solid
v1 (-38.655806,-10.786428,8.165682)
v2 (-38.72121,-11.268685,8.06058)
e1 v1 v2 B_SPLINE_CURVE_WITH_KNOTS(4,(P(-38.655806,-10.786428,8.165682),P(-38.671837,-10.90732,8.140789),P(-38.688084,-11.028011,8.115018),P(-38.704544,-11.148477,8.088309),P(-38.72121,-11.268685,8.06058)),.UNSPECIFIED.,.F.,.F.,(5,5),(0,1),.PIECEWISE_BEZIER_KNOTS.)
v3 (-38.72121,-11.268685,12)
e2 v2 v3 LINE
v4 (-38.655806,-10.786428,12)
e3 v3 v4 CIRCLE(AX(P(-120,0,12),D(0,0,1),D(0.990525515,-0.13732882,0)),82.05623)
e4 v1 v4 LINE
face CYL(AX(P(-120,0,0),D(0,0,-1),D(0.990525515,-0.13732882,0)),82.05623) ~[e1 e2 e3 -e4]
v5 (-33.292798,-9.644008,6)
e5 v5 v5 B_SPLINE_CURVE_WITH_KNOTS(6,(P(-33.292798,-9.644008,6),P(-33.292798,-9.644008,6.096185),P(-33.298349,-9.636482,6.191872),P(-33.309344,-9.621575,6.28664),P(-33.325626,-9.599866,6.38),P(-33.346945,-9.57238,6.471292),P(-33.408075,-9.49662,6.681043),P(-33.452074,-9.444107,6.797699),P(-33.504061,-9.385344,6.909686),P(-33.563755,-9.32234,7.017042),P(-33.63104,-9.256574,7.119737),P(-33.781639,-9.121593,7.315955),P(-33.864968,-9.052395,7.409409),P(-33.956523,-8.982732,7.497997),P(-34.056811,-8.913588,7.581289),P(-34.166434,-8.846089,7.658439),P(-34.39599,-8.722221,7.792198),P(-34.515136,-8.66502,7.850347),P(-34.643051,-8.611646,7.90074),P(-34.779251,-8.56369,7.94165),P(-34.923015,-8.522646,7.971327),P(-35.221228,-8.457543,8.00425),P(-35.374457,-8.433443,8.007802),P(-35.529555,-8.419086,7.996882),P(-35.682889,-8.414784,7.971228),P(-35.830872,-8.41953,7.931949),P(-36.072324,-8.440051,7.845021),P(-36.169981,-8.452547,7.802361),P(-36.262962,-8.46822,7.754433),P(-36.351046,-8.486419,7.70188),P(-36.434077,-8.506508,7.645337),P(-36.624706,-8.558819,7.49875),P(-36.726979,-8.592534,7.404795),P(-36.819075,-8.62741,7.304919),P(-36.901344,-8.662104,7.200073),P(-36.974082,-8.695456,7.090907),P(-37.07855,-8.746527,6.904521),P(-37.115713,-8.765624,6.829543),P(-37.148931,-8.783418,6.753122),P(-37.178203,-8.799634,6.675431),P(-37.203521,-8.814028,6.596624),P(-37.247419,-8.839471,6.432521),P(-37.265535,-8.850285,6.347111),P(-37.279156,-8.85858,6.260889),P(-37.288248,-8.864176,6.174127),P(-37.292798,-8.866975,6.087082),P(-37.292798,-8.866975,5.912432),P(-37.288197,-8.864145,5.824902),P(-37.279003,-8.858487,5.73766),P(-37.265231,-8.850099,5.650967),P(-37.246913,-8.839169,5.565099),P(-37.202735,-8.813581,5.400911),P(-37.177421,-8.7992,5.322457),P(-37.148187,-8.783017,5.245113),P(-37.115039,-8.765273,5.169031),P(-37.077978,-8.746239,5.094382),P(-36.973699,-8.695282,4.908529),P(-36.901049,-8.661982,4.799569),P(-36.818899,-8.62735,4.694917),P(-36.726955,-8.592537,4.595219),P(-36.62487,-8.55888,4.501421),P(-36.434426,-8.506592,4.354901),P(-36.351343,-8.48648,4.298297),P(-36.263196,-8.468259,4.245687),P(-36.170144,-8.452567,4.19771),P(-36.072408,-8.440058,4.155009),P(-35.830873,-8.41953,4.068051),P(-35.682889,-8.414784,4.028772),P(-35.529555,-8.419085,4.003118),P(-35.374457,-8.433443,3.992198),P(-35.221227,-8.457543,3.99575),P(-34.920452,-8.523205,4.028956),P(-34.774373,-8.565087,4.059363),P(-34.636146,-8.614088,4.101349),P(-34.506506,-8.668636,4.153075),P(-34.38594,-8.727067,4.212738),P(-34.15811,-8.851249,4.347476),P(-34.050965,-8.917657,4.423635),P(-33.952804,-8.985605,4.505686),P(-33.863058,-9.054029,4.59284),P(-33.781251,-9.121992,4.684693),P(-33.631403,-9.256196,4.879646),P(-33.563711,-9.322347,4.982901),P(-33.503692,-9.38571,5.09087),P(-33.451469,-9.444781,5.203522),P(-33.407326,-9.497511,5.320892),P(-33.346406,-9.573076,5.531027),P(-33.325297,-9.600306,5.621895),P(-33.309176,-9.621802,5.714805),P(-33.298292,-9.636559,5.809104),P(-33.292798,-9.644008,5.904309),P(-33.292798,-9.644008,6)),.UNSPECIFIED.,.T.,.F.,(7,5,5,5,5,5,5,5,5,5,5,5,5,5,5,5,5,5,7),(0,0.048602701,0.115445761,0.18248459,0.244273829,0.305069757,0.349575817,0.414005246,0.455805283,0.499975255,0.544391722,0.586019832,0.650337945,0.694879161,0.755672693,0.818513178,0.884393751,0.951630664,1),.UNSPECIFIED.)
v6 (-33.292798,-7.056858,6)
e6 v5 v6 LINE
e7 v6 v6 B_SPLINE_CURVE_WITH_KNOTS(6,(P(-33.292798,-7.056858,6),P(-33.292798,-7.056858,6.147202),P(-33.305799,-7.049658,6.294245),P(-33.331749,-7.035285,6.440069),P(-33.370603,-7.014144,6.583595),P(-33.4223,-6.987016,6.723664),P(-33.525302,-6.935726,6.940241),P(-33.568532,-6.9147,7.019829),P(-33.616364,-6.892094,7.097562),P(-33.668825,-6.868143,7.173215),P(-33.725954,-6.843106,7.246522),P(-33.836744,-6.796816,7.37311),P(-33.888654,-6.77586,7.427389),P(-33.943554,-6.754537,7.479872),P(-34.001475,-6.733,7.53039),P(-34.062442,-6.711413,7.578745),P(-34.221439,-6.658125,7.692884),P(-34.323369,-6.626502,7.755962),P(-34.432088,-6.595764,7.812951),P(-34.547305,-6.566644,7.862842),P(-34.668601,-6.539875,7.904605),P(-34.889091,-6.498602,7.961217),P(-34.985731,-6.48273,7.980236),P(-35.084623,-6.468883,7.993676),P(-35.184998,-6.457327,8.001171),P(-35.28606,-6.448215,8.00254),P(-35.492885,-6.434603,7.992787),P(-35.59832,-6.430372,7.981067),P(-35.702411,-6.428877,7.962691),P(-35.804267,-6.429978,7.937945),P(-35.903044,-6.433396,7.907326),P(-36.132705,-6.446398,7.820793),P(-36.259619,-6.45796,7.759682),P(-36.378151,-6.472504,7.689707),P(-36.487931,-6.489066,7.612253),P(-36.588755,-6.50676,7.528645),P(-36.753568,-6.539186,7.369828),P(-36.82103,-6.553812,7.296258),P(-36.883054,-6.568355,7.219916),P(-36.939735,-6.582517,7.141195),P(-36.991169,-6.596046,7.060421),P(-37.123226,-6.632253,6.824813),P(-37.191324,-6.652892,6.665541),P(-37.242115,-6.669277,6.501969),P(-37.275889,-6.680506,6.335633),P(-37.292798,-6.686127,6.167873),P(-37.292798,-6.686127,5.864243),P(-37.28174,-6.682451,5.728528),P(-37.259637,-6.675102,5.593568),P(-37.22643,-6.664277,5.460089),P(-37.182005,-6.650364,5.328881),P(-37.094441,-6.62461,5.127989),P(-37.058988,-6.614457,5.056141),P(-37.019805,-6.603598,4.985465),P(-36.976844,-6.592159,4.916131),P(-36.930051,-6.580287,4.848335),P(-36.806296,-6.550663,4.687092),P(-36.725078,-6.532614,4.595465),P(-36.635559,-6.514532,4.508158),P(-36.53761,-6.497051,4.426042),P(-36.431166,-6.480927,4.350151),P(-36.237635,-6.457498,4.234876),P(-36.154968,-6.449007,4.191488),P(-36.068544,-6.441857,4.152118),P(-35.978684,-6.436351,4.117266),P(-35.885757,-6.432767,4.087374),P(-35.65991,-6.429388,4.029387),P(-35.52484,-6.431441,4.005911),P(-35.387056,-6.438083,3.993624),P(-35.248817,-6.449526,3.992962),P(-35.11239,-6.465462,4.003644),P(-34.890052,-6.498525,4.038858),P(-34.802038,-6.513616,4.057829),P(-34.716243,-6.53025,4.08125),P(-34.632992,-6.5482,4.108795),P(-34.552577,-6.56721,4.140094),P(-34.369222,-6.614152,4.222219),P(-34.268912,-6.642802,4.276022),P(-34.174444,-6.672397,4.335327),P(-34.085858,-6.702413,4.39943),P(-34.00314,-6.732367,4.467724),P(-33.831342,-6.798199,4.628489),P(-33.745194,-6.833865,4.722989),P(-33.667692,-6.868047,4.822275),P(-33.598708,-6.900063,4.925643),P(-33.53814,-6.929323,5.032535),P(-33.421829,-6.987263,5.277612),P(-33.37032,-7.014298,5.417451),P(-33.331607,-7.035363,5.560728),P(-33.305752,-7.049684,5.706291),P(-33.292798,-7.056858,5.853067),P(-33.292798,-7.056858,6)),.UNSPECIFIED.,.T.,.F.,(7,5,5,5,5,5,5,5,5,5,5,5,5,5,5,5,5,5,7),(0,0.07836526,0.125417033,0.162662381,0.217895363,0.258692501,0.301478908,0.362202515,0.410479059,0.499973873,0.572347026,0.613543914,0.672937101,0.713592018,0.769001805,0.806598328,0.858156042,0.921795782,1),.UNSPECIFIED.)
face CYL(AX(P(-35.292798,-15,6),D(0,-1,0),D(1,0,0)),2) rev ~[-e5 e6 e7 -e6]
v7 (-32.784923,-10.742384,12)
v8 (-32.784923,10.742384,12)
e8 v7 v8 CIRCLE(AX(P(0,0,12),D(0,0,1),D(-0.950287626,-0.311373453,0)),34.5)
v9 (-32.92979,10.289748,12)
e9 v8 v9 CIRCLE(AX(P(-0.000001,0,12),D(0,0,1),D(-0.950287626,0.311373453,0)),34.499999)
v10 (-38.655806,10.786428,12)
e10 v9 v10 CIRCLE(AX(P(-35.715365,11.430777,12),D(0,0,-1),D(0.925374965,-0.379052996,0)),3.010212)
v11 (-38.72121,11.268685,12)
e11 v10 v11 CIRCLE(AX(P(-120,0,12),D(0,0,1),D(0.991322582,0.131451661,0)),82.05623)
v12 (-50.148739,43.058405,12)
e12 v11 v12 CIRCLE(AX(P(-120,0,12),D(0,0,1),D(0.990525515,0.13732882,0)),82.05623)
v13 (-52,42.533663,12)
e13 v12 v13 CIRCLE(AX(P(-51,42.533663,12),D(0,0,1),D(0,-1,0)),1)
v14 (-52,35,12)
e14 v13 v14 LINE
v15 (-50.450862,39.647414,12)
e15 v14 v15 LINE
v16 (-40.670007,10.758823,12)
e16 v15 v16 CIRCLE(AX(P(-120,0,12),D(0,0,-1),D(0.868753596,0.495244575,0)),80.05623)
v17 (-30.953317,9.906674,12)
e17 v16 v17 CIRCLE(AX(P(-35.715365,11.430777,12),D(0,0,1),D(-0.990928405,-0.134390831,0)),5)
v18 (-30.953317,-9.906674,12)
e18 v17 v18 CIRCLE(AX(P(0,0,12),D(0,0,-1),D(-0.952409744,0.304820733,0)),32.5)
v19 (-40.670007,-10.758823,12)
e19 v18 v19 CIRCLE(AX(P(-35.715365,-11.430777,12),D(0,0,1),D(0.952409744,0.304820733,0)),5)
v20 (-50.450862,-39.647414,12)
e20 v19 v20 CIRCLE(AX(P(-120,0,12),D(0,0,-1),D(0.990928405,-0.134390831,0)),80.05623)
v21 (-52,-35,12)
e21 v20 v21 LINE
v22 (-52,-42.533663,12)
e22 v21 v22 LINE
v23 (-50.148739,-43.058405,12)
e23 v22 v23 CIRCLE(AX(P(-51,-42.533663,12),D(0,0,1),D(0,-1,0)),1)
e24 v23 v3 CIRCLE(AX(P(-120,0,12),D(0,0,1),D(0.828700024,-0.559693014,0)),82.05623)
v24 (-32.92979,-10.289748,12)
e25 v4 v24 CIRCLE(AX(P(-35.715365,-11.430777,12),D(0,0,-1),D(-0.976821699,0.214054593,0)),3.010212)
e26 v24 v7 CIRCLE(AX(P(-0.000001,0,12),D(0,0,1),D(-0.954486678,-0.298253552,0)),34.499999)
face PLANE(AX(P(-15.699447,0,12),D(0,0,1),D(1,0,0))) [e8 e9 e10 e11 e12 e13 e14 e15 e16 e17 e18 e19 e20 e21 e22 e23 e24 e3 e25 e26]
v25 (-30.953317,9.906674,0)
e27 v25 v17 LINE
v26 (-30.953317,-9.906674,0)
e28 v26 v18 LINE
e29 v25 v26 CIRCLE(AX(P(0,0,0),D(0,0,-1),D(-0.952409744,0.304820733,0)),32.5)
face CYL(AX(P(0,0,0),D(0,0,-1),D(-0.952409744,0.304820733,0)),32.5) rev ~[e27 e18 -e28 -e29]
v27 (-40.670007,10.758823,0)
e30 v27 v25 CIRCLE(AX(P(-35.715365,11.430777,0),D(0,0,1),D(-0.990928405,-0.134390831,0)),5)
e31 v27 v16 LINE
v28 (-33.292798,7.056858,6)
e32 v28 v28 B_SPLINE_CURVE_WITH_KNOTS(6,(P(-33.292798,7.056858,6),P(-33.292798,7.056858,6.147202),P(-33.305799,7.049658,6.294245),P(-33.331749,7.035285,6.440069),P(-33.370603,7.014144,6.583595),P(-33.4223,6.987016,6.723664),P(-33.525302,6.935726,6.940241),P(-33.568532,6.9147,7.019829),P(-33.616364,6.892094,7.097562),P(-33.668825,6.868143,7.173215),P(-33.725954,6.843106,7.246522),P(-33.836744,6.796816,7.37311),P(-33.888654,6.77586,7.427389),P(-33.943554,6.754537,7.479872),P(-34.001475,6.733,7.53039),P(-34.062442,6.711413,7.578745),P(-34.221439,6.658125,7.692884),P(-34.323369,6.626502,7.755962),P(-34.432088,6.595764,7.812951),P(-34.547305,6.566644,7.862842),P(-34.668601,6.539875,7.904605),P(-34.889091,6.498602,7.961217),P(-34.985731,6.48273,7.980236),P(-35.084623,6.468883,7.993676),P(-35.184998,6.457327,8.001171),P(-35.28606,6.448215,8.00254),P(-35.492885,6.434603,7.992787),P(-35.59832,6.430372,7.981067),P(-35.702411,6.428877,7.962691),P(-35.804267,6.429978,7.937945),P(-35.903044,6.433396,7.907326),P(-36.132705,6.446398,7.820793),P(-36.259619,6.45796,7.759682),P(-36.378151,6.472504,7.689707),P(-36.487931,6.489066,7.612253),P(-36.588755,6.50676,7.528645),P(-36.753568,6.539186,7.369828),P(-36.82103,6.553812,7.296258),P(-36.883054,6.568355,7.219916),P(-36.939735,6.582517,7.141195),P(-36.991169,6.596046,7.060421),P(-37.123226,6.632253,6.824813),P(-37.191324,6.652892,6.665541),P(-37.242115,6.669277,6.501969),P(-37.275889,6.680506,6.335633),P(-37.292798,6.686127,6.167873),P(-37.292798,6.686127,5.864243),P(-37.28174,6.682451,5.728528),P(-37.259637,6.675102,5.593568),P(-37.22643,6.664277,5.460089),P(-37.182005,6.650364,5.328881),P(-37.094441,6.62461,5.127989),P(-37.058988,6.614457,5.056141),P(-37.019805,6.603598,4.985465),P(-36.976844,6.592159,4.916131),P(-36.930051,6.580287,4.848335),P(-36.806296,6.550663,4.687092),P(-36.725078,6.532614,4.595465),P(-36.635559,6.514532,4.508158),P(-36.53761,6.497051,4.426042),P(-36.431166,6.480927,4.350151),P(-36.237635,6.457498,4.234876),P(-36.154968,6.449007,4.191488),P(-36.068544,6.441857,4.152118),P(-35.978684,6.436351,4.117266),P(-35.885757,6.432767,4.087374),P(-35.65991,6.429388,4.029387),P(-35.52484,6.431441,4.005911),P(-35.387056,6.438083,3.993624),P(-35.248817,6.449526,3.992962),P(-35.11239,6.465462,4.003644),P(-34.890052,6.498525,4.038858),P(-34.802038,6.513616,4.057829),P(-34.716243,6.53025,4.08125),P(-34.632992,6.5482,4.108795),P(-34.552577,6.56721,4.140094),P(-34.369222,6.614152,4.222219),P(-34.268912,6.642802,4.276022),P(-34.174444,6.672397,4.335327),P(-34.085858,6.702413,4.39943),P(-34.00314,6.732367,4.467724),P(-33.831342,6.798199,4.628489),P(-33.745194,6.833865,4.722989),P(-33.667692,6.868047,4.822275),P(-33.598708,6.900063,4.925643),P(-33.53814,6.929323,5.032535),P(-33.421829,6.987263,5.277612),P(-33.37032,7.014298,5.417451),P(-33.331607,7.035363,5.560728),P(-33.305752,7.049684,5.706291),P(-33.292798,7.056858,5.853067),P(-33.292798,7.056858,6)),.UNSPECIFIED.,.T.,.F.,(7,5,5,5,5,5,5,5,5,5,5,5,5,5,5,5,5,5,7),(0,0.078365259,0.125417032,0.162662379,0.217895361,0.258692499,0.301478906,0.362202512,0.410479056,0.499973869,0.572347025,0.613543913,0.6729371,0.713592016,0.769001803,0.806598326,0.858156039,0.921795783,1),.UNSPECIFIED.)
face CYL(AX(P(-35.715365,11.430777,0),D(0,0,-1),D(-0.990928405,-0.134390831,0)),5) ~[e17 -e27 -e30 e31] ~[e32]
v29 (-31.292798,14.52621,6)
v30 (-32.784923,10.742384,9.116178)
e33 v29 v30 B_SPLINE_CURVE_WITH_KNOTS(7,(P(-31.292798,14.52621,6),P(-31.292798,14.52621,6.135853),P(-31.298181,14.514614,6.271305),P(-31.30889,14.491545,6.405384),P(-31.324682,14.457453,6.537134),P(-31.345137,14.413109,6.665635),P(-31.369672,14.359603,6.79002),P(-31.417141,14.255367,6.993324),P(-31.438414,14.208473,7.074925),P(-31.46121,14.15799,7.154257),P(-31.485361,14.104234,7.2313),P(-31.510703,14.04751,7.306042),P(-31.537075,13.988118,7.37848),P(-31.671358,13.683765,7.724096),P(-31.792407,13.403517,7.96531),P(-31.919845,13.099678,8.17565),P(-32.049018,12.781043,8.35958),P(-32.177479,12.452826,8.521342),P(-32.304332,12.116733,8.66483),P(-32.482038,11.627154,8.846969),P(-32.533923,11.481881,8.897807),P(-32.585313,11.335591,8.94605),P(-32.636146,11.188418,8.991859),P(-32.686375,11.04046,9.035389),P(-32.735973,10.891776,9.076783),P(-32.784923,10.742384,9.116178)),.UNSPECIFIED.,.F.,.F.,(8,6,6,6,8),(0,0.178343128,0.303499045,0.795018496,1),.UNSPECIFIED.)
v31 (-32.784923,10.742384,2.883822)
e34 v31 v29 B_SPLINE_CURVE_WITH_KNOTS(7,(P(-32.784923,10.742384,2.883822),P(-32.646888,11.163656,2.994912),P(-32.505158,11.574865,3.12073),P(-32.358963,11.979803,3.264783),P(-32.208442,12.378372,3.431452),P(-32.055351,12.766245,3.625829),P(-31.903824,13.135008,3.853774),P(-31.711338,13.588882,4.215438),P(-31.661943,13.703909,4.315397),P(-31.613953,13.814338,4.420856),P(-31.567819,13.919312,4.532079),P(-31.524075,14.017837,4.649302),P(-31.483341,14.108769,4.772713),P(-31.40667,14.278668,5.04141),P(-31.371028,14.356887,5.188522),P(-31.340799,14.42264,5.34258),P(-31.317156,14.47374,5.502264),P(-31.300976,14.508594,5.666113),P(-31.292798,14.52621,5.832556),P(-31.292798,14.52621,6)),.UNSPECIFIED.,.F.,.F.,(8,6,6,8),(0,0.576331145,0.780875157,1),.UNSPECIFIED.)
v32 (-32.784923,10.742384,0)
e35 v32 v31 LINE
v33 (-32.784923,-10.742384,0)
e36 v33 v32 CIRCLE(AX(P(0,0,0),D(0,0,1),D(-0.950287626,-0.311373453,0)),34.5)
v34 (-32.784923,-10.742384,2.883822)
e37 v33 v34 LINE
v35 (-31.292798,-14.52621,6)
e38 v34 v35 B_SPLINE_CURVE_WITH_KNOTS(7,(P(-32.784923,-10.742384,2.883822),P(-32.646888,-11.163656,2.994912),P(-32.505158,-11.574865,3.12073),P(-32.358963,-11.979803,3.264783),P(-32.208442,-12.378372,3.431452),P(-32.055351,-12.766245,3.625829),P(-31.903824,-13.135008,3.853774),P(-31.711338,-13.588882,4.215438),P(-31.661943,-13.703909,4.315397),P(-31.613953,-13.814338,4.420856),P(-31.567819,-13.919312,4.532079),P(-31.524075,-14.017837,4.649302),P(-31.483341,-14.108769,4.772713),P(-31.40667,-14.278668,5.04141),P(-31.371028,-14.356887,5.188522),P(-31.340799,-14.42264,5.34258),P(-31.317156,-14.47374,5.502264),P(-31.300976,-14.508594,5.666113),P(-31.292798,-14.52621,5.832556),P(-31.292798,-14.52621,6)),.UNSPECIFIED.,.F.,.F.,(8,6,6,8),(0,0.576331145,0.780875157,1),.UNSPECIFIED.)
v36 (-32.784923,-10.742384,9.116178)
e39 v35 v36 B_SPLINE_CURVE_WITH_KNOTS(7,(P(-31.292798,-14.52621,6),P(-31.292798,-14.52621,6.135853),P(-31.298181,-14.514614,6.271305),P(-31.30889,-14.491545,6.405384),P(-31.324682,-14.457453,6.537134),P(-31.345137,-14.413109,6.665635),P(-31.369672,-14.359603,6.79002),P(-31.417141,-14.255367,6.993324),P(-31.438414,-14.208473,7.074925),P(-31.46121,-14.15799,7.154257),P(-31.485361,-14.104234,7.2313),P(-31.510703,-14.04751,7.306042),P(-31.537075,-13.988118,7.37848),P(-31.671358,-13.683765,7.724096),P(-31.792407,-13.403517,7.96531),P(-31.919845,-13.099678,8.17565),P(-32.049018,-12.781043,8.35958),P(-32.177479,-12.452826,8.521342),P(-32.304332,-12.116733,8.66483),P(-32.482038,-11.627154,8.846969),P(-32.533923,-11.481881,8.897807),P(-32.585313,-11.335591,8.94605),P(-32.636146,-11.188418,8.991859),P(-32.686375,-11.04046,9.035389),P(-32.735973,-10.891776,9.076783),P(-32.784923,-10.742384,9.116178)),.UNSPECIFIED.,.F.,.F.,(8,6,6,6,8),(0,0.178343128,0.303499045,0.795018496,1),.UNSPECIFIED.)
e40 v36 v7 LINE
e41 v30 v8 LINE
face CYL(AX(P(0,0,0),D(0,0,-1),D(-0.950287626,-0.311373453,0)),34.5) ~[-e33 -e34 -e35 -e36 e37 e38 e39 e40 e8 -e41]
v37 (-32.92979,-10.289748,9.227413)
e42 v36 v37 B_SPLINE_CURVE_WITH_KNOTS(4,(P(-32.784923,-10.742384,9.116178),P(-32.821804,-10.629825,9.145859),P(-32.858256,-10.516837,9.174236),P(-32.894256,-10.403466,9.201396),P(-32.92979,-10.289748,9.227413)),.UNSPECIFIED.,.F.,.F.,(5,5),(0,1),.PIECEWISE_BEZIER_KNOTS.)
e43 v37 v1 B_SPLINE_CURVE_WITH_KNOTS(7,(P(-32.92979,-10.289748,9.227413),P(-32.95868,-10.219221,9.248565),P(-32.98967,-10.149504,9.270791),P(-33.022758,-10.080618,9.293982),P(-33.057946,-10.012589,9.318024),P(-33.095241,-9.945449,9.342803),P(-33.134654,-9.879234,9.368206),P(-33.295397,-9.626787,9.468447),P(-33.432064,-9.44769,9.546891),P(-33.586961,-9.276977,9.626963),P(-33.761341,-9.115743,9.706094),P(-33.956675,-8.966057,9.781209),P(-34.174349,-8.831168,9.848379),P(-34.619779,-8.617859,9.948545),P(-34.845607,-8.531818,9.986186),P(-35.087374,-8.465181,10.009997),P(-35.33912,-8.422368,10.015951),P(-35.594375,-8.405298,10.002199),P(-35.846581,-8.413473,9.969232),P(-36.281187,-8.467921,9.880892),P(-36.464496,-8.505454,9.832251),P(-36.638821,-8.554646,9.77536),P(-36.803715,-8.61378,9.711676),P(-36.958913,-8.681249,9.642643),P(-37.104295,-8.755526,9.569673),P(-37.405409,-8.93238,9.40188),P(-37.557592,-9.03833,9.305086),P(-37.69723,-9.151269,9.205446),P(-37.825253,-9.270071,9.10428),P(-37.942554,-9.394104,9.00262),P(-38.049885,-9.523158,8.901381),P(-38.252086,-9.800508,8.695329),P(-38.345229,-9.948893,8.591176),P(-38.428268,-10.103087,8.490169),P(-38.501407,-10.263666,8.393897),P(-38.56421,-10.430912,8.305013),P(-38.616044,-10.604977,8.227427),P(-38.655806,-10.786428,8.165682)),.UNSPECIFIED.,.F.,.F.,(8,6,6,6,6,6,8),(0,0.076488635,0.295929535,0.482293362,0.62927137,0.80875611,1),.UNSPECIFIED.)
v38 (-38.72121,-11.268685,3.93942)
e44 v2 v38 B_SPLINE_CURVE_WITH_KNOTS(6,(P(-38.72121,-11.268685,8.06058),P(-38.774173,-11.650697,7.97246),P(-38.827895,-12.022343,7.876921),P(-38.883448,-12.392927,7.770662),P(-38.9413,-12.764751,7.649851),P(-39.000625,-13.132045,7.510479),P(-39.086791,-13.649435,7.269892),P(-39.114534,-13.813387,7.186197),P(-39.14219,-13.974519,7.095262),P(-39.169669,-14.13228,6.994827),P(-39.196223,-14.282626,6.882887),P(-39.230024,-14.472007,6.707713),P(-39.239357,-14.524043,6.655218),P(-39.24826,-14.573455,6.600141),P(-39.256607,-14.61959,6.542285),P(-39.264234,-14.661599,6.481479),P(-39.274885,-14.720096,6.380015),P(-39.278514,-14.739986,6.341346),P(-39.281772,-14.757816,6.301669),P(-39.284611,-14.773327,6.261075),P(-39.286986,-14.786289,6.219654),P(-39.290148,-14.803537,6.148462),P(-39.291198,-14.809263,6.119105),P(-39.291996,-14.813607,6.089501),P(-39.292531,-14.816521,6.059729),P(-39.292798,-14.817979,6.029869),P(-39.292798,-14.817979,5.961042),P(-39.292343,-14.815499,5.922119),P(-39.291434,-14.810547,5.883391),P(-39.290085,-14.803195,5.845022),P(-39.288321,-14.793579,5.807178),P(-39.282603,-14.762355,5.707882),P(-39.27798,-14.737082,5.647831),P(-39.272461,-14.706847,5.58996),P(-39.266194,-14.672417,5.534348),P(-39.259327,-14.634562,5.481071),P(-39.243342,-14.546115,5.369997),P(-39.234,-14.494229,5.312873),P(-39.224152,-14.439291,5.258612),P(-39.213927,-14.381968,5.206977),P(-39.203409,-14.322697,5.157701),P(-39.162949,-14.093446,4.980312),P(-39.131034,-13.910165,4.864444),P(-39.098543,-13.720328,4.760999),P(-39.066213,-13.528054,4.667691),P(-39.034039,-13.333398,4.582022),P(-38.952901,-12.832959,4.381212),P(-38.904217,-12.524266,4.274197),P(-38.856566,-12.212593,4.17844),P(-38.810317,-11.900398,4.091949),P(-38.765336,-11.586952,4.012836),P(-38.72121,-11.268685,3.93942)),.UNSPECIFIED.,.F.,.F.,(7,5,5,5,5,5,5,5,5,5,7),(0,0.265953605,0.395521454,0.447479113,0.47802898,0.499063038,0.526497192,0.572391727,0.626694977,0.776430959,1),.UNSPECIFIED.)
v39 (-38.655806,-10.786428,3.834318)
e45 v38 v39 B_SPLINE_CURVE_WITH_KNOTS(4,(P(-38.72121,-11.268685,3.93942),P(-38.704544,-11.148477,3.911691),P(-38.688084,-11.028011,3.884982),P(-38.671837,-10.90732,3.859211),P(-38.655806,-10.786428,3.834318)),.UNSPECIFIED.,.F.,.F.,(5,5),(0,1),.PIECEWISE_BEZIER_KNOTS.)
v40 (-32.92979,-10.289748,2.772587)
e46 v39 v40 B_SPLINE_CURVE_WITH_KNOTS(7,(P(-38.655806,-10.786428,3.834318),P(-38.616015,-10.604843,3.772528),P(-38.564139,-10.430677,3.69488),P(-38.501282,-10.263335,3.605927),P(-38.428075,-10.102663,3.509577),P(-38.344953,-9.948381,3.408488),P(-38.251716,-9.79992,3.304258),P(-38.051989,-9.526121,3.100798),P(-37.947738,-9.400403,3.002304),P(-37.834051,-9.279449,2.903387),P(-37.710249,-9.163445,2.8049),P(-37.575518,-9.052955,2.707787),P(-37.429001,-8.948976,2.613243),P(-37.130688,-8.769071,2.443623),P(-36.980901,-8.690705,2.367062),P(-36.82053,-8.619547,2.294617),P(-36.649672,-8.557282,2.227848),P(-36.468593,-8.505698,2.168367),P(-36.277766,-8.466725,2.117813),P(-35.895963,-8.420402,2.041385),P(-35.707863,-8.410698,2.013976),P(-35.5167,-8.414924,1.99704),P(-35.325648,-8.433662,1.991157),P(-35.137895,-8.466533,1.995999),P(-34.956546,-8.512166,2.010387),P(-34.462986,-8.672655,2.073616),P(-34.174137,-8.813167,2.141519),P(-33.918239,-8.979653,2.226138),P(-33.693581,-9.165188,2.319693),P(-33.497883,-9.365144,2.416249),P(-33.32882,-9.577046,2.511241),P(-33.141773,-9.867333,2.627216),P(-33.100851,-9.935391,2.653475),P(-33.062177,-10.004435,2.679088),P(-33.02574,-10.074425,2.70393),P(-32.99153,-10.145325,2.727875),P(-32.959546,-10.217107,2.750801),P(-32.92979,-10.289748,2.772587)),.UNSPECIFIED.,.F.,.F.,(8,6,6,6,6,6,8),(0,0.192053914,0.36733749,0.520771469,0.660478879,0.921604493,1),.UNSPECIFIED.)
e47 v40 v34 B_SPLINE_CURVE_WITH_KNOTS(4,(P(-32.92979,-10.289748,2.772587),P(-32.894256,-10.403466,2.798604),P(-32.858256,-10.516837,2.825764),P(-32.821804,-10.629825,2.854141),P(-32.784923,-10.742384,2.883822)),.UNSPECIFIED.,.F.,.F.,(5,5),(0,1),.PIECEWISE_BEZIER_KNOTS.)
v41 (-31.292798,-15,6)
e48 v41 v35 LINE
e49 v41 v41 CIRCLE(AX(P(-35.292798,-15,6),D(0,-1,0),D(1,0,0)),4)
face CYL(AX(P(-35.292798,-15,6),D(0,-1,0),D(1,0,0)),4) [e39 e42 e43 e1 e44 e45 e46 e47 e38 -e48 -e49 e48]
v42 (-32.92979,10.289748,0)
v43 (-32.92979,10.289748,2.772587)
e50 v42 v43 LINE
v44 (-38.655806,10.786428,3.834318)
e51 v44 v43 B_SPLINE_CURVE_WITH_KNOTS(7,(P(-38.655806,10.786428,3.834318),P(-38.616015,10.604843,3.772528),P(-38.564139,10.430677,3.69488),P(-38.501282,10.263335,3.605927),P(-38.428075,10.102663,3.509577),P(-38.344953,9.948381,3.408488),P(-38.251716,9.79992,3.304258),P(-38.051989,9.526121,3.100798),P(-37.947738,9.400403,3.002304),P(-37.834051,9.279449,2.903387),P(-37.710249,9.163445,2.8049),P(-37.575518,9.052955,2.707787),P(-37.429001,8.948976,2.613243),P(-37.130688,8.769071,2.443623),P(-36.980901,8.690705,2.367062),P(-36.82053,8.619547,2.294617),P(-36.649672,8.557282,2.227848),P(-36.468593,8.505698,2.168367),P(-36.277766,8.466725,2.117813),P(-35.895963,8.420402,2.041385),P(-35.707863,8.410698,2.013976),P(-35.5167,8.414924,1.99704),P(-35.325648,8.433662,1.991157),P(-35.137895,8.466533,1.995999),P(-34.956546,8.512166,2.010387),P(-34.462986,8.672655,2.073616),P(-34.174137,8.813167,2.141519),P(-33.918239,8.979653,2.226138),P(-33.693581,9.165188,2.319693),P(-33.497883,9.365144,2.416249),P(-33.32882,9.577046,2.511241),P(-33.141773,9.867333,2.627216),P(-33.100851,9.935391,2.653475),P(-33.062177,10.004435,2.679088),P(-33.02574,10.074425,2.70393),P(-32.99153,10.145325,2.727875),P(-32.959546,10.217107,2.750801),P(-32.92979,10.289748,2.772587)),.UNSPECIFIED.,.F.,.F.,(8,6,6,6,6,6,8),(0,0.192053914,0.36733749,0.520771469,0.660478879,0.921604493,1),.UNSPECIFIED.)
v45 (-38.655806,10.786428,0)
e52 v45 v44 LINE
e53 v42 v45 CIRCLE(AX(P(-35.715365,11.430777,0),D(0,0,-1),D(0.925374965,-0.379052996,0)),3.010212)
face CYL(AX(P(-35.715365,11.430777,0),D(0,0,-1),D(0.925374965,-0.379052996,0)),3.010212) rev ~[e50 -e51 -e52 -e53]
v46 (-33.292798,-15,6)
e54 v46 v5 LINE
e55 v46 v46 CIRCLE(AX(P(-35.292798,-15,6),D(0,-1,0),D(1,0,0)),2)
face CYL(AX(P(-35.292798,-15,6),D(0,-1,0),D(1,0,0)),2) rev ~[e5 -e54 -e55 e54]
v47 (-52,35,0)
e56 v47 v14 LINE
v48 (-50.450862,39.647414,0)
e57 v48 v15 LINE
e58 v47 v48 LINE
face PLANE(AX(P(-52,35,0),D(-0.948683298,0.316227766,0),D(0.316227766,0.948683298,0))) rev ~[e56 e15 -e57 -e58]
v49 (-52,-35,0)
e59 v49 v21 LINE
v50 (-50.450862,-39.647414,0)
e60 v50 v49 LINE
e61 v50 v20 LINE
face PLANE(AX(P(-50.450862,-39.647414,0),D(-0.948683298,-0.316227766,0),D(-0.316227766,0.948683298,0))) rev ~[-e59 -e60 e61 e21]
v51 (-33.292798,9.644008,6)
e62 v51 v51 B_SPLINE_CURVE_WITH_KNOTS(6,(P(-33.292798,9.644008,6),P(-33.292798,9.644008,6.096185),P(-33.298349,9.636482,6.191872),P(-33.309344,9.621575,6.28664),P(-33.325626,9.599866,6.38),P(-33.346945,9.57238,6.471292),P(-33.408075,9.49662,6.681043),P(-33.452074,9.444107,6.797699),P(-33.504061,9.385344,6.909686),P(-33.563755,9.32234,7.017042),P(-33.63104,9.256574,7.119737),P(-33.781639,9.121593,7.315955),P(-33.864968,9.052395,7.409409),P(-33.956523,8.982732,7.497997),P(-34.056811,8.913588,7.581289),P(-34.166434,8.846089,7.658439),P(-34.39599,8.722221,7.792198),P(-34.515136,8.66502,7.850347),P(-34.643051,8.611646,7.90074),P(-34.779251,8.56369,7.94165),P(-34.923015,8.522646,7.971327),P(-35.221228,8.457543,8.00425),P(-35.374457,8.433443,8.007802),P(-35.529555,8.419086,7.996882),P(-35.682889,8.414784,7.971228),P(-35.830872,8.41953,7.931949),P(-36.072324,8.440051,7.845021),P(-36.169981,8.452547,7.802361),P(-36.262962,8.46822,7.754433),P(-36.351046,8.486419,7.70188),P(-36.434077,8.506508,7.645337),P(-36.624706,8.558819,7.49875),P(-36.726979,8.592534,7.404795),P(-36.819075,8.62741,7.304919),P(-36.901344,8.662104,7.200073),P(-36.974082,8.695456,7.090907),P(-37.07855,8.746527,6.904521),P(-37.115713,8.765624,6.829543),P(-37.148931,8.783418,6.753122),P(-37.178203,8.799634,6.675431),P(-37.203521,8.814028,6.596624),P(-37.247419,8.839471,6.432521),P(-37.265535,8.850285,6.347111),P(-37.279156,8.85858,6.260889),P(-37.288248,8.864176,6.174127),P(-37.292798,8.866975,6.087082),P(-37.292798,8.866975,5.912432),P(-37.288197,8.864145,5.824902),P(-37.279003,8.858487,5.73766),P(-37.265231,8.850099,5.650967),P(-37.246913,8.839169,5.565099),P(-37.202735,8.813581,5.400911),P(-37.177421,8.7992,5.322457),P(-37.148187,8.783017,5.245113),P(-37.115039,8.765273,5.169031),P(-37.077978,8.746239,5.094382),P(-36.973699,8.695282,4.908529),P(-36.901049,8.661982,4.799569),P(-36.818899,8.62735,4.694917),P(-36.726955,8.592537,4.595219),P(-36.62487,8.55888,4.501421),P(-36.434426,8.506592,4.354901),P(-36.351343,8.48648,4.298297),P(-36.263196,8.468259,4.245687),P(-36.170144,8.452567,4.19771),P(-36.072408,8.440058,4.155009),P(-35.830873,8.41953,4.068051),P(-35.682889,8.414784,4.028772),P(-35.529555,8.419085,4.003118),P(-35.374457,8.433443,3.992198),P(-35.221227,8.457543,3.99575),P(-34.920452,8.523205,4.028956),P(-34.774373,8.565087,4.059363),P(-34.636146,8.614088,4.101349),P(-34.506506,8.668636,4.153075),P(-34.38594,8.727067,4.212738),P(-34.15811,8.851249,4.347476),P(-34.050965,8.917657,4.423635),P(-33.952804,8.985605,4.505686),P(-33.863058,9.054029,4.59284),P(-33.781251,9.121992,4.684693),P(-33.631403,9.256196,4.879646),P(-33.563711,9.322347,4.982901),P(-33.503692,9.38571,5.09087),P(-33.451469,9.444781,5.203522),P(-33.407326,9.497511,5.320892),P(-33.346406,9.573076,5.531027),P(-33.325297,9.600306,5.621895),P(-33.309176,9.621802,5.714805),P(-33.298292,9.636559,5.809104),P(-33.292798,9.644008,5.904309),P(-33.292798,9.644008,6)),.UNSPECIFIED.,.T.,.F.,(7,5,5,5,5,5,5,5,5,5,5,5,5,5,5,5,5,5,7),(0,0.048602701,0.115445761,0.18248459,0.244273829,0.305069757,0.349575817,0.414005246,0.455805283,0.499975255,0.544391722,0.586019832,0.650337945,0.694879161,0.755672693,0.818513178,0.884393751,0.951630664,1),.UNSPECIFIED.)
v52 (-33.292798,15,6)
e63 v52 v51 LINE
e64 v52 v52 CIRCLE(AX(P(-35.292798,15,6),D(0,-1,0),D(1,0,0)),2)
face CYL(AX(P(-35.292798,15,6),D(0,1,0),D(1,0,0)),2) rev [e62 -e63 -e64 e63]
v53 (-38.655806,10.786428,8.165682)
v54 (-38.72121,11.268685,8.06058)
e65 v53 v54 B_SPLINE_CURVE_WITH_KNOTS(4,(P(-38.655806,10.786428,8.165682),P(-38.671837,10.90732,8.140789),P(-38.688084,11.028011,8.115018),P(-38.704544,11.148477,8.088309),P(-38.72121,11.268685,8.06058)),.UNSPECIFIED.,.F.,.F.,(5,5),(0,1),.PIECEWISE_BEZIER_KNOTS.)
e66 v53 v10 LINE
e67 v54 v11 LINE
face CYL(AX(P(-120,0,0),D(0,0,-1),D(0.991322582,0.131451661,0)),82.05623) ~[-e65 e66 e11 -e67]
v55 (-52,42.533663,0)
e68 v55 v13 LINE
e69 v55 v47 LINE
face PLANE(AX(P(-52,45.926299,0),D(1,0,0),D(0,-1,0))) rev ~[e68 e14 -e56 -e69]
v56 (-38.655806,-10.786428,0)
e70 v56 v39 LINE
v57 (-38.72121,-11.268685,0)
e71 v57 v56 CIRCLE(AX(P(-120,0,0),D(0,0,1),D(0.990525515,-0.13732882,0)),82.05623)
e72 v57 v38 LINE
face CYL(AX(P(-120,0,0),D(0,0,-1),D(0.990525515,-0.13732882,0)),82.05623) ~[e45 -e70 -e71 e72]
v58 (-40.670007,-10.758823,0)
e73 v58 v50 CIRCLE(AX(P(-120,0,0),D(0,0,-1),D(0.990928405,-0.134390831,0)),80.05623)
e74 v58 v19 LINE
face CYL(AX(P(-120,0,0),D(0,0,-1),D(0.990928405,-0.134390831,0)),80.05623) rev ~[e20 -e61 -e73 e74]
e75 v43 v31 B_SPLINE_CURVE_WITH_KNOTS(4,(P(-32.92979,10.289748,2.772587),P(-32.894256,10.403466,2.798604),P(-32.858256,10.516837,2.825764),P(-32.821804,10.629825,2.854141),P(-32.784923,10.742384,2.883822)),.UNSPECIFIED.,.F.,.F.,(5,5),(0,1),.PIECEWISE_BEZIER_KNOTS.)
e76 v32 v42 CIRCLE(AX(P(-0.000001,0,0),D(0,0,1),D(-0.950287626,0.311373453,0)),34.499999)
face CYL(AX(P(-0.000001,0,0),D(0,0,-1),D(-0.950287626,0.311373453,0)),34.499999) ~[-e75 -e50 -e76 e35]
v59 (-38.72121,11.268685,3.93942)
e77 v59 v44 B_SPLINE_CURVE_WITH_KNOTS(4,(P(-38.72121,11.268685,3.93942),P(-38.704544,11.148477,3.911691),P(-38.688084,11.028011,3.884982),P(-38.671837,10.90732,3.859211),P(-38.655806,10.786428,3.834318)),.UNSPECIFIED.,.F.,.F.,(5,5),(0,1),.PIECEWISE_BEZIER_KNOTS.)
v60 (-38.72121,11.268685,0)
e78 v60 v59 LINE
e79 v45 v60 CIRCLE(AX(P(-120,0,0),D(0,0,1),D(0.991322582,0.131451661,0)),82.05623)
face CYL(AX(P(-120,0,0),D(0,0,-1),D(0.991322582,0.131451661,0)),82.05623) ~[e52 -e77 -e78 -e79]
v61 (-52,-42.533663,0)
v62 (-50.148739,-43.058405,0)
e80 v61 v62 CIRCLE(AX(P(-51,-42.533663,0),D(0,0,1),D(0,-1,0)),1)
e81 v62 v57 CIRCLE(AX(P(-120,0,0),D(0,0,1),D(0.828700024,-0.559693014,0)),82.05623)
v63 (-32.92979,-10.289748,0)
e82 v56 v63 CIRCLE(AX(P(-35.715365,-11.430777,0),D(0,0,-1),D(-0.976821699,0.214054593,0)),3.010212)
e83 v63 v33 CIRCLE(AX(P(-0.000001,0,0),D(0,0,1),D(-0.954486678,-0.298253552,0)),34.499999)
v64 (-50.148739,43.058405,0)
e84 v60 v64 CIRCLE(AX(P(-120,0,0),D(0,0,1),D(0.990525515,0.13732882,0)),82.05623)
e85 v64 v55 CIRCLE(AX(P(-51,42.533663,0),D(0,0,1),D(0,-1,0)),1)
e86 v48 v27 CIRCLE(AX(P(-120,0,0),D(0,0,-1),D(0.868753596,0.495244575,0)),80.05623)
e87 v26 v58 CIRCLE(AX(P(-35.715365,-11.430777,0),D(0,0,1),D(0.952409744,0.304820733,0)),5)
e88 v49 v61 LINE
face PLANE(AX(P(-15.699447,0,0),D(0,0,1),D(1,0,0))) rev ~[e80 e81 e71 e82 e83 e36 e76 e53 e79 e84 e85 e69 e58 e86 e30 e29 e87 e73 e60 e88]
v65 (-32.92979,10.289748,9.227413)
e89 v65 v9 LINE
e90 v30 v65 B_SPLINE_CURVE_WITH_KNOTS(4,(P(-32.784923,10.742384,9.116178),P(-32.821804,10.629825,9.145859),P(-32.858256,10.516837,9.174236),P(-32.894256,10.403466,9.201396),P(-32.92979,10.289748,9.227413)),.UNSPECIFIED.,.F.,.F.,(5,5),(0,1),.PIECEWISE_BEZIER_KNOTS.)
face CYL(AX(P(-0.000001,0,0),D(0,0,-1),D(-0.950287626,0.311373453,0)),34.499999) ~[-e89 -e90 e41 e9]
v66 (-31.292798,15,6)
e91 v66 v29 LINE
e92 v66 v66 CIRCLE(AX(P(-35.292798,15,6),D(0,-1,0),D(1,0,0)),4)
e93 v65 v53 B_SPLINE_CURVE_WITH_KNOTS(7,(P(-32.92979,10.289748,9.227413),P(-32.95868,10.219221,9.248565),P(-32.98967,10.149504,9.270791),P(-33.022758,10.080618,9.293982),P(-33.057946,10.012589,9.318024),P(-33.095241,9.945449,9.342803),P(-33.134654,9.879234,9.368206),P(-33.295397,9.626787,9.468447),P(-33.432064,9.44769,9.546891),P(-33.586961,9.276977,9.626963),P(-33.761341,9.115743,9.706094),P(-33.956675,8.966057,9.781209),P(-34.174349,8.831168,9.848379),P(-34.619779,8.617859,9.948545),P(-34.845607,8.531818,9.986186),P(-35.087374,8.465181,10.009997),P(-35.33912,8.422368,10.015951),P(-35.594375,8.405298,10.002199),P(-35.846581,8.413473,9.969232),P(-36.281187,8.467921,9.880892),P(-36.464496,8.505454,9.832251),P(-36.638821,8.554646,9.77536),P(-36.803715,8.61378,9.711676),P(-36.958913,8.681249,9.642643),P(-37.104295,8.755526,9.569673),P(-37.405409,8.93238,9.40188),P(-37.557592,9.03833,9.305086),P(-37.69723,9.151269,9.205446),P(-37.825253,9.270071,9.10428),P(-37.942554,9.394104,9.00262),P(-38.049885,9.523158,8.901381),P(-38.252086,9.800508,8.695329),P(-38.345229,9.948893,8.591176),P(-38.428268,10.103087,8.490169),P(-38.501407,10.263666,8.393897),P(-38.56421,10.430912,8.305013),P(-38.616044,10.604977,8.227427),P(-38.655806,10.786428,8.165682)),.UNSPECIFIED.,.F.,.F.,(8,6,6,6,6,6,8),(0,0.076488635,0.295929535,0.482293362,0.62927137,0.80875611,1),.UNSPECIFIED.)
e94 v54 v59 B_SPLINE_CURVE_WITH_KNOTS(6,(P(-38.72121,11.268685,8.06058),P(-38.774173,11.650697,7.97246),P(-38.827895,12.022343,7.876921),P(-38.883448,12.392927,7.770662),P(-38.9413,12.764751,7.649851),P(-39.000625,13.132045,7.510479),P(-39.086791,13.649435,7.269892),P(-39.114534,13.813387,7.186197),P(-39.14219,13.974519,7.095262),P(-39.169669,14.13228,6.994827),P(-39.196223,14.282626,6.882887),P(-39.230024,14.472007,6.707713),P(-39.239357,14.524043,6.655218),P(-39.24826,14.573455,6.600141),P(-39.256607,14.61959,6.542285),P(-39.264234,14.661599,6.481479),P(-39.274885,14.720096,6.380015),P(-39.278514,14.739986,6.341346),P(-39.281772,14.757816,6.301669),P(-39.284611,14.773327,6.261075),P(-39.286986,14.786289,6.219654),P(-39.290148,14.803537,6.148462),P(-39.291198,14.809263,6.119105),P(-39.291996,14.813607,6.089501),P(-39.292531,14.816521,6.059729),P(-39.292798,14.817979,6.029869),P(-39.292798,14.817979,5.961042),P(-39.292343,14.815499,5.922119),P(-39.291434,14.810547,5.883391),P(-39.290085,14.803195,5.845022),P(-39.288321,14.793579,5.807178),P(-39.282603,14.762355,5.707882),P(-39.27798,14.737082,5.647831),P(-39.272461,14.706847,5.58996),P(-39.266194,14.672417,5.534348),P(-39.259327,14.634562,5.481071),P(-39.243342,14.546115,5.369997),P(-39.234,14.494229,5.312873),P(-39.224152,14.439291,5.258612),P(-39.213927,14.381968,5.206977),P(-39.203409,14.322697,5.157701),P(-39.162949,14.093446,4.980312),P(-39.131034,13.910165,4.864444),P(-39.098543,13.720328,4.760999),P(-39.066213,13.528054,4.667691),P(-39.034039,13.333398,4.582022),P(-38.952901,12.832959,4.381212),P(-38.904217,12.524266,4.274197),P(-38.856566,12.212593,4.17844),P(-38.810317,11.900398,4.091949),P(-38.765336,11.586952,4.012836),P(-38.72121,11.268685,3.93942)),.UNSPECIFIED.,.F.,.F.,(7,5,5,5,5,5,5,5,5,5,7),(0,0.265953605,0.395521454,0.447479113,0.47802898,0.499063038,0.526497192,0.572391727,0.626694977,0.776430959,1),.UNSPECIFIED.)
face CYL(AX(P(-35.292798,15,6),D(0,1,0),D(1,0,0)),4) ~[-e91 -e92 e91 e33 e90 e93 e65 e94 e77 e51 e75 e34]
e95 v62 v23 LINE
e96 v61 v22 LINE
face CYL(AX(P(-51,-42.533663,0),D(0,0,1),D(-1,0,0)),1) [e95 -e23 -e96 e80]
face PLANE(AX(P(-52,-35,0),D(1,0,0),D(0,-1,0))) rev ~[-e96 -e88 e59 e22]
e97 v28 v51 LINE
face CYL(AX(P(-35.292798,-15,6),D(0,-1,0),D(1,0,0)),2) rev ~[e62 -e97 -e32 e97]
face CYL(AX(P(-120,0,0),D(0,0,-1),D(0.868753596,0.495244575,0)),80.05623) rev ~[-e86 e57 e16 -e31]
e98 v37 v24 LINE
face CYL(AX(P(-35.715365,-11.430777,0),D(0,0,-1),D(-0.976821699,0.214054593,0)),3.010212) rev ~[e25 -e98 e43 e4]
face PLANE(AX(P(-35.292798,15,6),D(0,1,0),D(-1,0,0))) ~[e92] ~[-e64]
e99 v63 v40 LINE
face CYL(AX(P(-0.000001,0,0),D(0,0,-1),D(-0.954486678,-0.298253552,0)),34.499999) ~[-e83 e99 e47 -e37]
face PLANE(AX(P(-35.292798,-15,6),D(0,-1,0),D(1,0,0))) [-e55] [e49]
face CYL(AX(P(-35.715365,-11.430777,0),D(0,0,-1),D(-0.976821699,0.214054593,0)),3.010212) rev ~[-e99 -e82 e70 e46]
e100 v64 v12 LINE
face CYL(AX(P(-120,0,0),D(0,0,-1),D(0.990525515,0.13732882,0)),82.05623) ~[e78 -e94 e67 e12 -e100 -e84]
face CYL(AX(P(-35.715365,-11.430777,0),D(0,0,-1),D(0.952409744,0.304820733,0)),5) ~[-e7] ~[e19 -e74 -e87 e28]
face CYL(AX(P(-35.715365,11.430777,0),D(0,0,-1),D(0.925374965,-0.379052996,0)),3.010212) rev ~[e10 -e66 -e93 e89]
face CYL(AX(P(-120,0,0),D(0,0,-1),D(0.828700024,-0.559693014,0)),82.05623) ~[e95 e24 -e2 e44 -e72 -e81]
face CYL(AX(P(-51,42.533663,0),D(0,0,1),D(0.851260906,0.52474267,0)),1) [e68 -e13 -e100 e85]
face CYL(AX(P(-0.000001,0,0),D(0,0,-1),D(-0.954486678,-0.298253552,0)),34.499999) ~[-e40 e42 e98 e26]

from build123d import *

# Parameters (mm, degrees)
F1_DEPTH = 12
F3_R     = 4
F3_R_2   = 2
F6_DEPTH = 100
F7_R     = 1


with BuildPart() as f1:
    # F0 (on Top) → F1 (new body)
    with BuildSketch(Plane.XY):
        with BuildLine():
            ThreePointArc((-30.9533166858, 9.9066738185), (32.5, 0), (-30.9533166858, -9.9066738185))
            ThreePointArc((-30.9533166858, -9.9066738185), (-36.1521865846, -6.4498953062), (-40.6700074334, -10.7588233268))
            ThreePointArc((-40.6700074334, -10.7588233268), (-44.1719937167, -25.6732051584), (-50.4508620887, -39.647413734))
            Line((-50.4508620887, -39.647413734), (-52, -35))
            Line((-52, -35), (-52, -45.9262987944))
            ThreePointArc((-52, -45.9262987944), (-43.3754164337, -29.3581013392), (-38.7212103105, -11.2686852631))
            ThreePointArc((-38.7212103105, -11.2686852631), (-38.6982701791, -11.0262325635), (-38.6558059993, -10.7864277375))
            ThreePointArc((-38.6558059993, -10.7864277375), (-35.9754973818, -8.4318261948), (-32.9297903997, -10.2897475302))
            ThreePointArc((-32.9297903997, -10.2897475302), (-32.8484099779, -10.5132023948), (-32.7849231086, -10.7423841283))
            ThreePointArc((-32.7849231086, -10.7423841283), (34.5, 0), (-32.7849231086, 10.7423841283))
            ThreePointArc((-32.7849231086, 10.7423841283), (-32.8484099779, 10.5132023948), (-32.9297903997, 10.2897475302))
            ThreePointArc((-32.9297903997, 10.2897475302), (-35.9754973818, 8.4318261948), (-38.6558059993, 10.7864277375))
            ThreePointArc((-38.6558059993, 10.7864277375), (-38.6982701791, 11.0262325635), (-38.7212103105, 11.2686852631))
            ThreePointArc((-38.7212103105, 11.2686852631), (-43.3754164337, 29.3581013392), (-52, 45.9262987944))
            Line((-52, 45.9262987944), (-52, 35))
            Line((-52, 35), (-50.4508620887, 39.647413734))
            ThreePointArc((-50.4508620887, 39.647413734), (-44.1719937167, 25.6732051584), (-40.6700074334, 10.7588233268))
            ThreePointArc((-40.6700074334, 10.7588233268), (-36.1521865846, 6.4498953062), (-30.9533166858, 9.9066738185))
        make_face()
        with BuildLine():
            ThreePointArc((-38.6558059993, -10.7864277375), (-38.6982701791, -11.0262325635), (-38.7212103105, -11.2686852631))
            ThreePointArc((-38.7212103105, -11.2686852631), (-38.6881506227, -11.0276049892), (-38.6558059993, -10.7864277375))
        make_face()
        with BuildLine():
            ThreePointArc((-38.6558059993, 10.7864277375), (-38.6881506227, 11.0276049892), (-38.7212103105, 11.2686852631))
            ThreePointArc((-38.7212103105, 11.2686852631), (-38.6982701791, 11.0262325635), (-38.6558059993, 10.7864277375))
        make_face()
        with BuildLine():
            ThreePointArc((-32.7849231086, -10.7423841283), (-32.8484099779, -10.5132023948), (-32.9297903997, -10.2897475302))
            ThreePointArc((-32.9297903997, -10.2897475302), (-32.8581361742, -10.5163152843), (-32.7849231086, -10.7423841283))
        make_face()
        with BuildLine():
            ThreePointArc((-32.7849231086, 10.7423841283), (-32.8581361742, 10.5163152843), (-32.9297903997, 10.2897475302))
            ThreePointArc((-32.9297903997, 10.2897475302), (-32.8484099779, 10.5132023948), (-32.7849231086, 10.7423841283))
        make_face()
    extrude(amount=F1_DEPTH)

    # F3 (on offset) → F4 (join, up to the next surface of F1)
    with BuildSketch(Plane.XZ.offset(15)):
        with Locations((-35.2927981995, 6)):
            Circle(F3_R)
        with Locations((-35.2927981995, 6)):
            Circle(F3_R_2, mode=Mode.SUBTRACT)
    extrude(until=Until.NEXT, dir=(0, 1, 0))

    # F5: F1 across plane


with BuildPart() as f1_1:
    add(f1.part)
    add(f1.part.mirror(Plane.XZ))

    # F3 (on offset) → F6 (cut)
    with BuildSketch(Plane.XZ.offset(15)):
        with Locations((-35.2927981995, 6)):
            Circle(F3_R_2)
    extrude(amount=-F6_DEPTH, mode=Mode.SUBTRACT)

    # F7
    f7_edges = [f1_1.edges().sort_by_distance(p)[0] for p in [
        (-52, -45.926299, 6),
        (-52, 45.926299, 6),
    ]]
    fillet(f7_edges, radius=F7_R)


solid = f1_1.part
